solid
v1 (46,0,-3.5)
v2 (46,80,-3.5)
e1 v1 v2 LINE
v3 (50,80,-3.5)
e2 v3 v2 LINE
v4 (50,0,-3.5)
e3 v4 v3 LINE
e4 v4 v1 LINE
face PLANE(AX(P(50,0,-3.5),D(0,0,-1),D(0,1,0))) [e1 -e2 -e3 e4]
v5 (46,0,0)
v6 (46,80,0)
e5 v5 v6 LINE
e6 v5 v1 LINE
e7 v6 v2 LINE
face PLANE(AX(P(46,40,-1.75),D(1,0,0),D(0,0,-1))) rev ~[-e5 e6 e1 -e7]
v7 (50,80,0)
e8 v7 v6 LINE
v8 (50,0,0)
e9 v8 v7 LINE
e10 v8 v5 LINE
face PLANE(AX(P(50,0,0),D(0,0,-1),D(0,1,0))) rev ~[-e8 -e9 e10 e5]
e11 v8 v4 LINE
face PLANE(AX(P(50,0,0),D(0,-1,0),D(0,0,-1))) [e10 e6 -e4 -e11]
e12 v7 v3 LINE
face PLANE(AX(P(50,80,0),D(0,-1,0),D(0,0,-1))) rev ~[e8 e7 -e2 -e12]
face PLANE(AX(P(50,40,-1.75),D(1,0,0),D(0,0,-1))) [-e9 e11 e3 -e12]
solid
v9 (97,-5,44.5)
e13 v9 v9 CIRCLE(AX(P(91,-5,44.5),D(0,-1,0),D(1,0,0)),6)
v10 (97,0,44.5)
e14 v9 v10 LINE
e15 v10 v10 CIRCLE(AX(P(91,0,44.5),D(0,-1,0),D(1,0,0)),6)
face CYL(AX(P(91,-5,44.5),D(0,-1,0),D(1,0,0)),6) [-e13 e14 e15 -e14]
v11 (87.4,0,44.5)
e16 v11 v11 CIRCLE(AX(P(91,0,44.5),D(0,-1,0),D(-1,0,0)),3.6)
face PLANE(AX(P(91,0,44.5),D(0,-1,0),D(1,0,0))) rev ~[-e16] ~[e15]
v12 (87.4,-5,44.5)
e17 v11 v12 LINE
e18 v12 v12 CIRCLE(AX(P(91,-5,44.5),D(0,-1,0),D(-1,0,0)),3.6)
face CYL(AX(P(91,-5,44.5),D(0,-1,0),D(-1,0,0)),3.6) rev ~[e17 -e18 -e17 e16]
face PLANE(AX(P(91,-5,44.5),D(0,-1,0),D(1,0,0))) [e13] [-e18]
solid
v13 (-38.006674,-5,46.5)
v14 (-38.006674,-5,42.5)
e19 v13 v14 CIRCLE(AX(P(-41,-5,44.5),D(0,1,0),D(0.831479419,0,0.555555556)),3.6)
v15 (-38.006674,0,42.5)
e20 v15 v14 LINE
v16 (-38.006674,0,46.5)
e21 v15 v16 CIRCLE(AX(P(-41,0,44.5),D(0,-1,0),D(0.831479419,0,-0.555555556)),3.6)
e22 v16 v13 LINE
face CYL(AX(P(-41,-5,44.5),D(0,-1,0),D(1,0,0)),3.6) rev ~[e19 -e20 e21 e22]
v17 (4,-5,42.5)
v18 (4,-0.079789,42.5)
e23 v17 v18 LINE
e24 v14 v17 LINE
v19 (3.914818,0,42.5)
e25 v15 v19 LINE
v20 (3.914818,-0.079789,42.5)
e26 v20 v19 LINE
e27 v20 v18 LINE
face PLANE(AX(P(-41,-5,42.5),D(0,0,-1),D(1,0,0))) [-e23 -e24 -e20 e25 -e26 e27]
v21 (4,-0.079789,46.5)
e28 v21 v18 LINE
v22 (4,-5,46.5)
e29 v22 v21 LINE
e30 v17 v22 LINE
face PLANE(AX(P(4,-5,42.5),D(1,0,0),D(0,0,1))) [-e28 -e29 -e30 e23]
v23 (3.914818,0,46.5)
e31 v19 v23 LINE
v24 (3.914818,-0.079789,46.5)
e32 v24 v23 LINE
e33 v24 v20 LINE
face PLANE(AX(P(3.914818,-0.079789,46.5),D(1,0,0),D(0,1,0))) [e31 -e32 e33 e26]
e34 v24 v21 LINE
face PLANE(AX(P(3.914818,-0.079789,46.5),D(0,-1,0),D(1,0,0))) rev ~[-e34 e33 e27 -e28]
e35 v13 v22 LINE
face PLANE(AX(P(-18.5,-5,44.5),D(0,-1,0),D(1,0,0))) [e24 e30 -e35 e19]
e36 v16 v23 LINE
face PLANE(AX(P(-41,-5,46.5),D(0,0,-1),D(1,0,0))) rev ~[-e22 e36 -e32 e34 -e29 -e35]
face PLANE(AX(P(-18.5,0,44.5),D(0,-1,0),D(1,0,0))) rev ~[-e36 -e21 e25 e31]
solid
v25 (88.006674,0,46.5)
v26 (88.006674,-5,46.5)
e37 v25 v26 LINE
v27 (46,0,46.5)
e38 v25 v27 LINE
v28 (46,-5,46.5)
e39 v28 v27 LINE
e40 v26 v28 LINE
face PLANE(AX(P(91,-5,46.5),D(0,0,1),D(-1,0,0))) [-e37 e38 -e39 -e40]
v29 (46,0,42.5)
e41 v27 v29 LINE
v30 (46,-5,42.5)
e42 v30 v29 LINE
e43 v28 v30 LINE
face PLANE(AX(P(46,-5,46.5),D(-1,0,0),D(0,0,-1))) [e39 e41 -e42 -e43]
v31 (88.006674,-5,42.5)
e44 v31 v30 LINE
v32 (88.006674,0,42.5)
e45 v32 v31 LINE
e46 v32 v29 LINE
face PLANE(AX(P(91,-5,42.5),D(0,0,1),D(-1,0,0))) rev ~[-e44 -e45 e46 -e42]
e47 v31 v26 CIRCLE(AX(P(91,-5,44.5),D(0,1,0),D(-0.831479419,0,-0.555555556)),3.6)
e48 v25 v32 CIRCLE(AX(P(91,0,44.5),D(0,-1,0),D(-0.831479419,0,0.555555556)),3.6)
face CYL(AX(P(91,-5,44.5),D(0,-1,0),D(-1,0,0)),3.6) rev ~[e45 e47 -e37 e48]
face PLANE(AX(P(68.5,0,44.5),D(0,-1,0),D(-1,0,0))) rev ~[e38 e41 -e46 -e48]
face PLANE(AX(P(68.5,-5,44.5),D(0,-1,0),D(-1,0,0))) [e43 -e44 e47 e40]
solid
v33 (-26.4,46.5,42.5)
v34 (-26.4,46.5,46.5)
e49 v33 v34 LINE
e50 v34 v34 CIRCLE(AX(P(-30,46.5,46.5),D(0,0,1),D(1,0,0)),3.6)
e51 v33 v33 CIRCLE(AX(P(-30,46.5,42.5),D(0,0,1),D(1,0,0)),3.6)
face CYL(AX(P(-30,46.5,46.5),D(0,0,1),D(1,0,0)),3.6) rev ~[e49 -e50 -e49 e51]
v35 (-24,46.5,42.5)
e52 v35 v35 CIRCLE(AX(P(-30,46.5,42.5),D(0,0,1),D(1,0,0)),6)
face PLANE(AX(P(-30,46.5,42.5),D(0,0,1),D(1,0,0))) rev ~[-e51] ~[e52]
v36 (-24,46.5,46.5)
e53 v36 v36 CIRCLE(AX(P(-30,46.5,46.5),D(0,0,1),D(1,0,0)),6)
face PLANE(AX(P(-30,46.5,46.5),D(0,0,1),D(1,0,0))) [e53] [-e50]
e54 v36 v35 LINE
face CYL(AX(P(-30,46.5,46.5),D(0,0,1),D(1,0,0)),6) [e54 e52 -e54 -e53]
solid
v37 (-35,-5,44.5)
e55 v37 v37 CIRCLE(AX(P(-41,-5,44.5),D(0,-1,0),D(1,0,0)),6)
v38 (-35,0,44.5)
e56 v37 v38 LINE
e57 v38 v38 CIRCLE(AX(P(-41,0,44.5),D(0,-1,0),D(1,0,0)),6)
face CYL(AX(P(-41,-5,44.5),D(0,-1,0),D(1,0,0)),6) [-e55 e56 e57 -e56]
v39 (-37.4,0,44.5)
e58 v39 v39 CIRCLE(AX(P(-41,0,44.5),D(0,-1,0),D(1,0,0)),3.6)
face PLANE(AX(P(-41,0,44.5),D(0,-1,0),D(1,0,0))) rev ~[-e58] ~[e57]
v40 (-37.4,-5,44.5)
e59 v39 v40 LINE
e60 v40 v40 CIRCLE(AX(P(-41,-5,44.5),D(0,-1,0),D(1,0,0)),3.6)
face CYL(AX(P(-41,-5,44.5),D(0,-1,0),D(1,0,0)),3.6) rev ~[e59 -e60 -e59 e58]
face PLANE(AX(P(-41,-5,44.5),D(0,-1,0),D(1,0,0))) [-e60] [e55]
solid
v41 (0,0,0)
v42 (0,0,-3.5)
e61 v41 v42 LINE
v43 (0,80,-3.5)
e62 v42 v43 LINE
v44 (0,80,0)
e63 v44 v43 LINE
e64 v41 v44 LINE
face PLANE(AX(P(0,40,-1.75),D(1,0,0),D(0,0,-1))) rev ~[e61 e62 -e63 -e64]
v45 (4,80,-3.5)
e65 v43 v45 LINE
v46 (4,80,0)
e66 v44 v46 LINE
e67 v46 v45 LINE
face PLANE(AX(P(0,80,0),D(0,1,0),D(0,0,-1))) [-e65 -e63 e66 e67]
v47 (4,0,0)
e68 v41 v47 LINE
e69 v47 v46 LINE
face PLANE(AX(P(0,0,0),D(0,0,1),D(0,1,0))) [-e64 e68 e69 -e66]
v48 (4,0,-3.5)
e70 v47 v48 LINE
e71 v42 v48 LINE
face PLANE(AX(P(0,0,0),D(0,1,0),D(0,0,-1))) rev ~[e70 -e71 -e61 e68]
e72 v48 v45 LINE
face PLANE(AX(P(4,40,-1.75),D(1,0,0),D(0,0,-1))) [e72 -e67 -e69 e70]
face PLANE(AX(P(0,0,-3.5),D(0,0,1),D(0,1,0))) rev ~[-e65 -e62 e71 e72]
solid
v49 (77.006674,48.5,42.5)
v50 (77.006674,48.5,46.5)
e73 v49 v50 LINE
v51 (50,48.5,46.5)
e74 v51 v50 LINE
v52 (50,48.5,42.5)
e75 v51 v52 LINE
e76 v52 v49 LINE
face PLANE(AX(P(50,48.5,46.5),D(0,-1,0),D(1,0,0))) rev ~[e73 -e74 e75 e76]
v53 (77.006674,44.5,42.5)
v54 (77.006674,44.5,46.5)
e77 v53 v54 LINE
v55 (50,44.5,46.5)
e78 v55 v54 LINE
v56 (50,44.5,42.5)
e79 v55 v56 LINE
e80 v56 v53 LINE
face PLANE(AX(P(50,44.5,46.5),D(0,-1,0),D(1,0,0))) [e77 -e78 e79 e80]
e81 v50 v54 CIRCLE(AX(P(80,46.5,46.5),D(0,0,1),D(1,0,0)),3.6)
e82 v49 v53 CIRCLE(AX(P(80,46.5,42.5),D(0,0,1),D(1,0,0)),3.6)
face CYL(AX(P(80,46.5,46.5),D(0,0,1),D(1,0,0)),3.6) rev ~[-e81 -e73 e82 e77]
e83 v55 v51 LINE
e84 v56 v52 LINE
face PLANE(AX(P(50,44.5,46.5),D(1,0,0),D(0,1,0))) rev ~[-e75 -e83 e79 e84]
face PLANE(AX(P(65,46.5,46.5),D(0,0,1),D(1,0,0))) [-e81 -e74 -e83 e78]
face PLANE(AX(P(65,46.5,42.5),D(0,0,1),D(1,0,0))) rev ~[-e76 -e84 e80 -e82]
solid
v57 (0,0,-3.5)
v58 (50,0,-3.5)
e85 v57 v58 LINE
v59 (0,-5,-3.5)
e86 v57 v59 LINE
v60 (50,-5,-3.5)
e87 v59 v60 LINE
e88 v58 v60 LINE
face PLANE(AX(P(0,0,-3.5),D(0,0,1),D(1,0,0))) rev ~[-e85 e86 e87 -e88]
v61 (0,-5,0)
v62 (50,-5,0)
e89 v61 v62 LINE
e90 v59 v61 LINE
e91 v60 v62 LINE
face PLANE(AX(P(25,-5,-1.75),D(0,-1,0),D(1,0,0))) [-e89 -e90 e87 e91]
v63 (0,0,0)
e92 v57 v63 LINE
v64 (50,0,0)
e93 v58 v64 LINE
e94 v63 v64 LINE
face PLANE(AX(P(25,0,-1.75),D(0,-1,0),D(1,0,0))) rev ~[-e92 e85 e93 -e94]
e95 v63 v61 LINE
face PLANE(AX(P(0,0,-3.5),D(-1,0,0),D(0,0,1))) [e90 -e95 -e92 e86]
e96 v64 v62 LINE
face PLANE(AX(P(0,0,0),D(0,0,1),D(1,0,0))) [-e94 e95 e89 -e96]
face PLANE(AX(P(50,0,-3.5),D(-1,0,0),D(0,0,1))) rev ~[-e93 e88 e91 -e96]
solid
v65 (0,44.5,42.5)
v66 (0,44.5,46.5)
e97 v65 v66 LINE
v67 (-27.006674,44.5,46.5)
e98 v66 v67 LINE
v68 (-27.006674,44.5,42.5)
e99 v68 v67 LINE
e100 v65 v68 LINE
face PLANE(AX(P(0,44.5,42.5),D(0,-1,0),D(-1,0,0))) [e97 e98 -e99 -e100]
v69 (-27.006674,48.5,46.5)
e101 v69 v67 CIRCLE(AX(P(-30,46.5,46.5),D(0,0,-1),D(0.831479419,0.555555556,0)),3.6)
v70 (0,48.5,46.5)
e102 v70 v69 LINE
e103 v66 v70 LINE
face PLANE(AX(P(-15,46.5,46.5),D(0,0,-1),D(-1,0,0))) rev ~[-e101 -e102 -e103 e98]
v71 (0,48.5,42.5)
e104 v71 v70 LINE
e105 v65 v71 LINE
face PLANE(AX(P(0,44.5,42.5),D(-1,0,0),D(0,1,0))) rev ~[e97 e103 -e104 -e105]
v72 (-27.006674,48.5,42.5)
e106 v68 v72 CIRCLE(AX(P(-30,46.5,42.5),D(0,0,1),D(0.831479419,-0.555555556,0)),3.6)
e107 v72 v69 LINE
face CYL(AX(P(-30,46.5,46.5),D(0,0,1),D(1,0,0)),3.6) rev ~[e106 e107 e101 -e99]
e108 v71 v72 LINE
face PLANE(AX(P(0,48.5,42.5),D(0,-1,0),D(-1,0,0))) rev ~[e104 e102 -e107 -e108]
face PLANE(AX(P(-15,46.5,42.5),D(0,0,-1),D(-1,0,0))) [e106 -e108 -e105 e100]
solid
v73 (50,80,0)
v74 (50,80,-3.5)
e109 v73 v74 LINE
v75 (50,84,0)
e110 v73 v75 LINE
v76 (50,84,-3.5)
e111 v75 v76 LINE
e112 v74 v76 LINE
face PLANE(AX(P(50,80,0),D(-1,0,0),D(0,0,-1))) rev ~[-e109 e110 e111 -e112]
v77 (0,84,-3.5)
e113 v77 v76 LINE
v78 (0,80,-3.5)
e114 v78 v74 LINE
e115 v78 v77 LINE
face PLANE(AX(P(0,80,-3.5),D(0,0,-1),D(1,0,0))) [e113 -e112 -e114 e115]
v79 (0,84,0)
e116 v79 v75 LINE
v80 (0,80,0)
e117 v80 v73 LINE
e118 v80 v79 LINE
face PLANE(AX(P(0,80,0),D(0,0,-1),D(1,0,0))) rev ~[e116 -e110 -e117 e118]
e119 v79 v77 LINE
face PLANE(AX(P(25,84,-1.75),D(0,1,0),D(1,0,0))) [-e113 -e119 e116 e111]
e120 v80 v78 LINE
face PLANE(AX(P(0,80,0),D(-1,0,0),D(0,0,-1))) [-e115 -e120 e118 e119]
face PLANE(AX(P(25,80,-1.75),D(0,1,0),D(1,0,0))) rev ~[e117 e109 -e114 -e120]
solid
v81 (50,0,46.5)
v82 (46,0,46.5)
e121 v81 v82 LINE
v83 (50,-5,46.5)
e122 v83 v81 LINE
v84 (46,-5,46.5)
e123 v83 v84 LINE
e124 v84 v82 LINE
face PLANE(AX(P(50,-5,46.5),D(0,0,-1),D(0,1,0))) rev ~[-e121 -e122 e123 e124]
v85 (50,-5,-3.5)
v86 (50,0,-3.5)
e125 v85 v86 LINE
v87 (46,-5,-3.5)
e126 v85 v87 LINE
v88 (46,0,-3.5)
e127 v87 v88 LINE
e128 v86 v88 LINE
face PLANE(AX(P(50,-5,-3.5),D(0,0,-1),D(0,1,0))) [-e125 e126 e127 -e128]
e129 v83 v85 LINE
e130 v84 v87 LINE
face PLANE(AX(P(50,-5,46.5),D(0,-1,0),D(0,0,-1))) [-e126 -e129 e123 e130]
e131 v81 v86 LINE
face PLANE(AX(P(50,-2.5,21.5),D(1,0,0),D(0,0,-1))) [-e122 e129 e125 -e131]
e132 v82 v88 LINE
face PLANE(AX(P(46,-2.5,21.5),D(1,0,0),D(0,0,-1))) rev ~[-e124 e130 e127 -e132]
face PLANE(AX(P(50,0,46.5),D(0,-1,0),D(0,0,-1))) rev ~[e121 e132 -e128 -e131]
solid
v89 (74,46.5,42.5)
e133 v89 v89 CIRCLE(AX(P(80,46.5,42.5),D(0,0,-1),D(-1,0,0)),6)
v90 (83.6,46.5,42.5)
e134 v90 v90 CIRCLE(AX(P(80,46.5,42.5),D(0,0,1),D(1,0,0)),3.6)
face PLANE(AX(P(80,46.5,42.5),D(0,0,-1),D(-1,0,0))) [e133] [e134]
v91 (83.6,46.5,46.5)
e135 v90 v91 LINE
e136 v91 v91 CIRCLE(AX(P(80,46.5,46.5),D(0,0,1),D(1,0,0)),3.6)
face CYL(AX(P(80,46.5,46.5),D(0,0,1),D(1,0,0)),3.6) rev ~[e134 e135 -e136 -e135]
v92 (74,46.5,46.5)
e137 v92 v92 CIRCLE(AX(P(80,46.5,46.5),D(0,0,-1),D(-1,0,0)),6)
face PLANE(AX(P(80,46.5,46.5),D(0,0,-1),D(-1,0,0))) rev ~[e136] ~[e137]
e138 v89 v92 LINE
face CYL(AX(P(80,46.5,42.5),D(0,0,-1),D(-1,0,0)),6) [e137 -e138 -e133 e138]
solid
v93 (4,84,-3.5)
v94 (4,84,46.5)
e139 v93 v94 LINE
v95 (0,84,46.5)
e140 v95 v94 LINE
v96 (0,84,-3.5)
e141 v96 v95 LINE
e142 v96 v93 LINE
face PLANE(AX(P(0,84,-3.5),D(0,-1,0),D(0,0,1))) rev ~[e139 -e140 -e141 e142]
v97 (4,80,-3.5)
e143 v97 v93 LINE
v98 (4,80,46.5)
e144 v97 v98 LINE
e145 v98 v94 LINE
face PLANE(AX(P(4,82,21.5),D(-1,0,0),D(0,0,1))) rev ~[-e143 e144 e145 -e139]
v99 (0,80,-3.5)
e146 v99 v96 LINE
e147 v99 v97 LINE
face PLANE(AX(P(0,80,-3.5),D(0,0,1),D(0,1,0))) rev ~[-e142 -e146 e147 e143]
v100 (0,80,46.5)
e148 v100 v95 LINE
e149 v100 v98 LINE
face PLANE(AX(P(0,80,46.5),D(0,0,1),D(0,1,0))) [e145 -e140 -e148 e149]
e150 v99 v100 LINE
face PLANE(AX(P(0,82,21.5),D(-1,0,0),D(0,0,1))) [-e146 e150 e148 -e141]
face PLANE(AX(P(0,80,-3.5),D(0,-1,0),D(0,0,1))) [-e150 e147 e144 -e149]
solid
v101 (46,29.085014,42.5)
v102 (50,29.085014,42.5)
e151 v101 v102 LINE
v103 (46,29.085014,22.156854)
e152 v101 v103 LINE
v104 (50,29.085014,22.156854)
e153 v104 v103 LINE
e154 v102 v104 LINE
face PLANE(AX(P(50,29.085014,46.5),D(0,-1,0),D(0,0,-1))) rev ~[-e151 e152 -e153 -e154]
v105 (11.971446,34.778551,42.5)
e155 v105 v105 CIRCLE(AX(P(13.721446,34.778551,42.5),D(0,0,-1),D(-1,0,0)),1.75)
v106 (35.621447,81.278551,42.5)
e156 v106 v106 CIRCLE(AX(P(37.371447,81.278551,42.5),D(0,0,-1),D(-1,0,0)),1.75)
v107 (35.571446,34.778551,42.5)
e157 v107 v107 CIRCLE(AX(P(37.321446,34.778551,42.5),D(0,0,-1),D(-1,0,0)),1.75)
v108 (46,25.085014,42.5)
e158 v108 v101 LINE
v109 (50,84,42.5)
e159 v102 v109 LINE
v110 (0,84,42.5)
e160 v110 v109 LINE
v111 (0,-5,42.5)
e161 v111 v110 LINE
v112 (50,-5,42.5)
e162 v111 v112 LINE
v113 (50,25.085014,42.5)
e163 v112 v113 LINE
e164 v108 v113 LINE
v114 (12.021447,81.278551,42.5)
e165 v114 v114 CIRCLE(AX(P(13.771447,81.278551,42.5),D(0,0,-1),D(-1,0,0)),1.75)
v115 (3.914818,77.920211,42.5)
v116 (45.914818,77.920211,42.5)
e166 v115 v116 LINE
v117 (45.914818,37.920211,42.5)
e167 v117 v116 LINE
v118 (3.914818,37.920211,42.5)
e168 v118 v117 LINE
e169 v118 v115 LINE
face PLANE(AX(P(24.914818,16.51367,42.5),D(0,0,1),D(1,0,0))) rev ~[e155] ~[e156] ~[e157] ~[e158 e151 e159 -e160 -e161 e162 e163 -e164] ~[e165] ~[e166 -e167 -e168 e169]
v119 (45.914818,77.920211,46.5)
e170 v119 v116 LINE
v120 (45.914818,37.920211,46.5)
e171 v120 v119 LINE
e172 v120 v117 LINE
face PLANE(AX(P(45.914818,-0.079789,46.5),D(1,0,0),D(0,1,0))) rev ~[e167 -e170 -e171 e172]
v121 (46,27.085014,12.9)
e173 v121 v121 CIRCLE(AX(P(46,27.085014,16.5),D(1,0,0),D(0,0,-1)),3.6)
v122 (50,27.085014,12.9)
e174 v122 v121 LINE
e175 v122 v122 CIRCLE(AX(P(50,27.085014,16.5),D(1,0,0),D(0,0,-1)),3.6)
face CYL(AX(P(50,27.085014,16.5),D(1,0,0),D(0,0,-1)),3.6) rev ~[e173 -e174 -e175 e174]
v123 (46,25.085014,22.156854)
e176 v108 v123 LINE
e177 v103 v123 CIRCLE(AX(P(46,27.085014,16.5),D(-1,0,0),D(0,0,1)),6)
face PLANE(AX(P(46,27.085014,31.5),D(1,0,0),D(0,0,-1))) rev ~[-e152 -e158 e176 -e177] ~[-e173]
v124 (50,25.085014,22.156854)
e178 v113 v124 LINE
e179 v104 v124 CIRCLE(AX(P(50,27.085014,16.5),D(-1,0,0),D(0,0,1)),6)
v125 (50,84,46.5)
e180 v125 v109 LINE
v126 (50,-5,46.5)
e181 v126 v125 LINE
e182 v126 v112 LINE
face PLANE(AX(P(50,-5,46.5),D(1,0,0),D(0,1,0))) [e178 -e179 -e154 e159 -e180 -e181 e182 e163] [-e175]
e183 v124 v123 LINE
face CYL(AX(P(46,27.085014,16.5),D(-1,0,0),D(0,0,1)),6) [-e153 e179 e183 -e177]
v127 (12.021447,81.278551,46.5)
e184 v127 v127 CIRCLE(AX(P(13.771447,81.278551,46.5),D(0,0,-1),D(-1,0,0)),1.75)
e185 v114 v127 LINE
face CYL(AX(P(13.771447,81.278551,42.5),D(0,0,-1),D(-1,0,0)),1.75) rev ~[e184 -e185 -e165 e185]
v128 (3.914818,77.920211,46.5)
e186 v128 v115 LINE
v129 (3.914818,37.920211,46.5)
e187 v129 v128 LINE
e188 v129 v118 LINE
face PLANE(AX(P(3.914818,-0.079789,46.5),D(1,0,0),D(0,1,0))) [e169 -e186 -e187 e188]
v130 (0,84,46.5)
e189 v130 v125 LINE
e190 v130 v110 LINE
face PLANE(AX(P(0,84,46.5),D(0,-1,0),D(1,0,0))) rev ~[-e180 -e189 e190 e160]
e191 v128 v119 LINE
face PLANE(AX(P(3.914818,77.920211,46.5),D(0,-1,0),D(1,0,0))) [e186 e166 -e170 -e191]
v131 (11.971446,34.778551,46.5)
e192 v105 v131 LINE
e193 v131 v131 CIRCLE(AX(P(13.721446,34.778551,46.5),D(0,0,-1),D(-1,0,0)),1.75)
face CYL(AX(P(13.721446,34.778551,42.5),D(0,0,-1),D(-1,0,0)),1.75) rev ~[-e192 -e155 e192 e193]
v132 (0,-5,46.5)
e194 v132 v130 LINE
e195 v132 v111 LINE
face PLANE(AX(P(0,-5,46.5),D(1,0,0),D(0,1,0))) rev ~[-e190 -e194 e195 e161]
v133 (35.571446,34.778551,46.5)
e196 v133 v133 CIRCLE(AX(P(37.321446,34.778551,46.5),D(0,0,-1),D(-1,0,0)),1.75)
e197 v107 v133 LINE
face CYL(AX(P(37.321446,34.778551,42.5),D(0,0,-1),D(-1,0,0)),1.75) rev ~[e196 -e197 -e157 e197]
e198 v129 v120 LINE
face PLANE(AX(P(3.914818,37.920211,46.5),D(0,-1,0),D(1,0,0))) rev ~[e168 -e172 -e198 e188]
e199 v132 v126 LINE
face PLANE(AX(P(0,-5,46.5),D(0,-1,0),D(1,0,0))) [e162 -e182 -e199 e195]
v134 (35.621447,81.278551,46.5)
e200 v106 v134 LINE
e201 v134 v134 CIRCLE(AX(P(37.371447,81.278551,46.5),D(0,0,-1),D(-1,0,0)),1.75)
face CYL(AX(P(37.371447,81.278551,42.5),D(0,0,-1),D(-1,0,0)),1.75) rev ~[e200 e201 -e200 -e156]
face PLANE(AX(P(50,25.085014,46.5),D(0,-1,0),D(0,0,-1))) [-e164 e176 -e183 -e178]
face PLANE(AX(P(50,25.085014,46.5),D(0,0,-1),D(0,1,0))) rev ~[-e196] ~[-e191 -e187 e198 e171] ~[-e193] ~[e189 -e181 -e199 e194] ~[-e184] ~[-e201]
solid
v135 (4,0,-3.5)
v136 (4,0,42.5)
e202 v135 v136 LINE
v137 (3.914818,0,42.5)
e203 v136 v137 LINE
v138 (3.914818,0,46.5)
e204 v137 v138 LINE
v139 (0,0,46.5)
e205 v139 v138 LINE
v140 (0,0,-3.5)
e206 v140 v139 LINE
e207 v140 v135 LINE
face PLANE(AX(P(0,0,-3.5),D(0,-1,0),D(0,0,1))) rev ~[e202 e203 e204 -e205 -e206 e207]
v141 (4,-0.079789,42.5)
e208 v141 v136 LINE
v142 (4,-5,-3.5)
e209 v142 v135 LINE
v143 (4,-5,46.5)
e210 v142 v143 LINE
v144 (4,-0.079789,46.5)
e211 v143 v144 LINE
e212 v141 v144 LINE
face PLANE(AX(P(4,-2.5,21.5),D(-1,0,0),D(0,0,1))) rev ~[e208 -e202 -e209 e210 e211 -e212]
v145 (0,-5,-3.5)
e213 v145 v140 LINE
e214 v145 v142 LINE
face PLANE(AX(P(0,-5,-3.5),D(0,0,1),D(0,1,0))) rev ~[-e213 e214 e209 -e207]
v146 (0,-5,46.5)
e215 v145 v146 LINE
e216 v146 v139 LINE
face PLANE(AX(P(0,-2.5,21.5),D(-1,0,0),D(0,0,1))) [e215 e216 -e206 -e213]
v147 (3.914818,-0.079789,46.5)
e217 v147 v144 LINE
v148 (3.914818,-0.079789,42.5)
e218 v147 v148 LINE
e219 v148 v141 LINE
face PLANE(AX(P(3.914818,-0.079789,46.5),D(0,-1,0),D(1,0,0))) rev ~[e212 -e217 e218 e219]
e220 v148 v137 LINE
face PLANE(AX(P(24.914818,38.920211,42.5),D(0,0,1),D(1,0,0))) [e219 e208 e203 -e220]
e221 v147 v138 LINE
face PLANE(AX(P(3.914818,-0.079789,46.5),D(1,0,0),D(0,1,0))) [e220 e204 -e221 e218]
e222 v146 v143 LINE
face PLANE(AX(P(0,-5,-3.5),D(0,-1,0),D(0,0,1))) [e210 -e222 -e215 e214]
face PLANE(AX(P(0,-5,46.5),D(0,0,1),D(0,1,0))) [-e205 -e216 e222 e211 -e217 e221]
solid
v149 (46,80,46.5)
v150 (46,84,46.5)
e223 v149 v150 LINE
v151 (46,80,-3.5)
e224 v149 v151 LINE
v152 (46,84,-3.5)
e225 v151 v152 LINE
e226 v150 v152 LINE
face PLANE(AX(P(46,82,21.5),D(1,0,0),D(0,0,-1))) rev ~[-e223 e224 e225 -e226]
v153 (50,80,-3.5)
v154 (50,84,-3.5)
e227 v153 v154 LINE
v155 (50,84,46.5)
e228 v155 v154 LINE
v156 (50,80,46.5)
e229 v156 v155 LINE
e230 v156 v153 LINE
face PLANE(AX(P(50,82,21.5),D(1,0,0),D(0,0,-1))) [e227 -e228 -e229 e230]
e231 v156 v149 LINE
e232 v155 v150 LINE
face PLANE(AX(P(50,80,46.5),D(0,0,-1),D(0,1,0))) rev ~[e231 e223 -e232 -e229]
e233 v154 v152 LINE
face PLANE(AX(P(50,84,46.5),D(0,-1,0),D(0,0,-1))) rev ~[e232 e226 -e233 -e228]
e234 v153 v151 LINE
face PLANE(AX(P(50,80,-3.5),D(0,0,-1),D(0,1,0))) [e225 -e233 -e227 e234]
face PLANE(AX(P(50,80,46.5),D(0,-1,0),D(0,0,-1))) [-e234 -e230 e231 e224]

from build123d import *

# Parameters (mm, degrees)
SKETCH114_W             = 3.5
SKETCH114_H             = 80
BOSS_EXTRUDE2_DEPTH     = 4
SKETCH115_W             = 50
SKETCH115_H             = 3.5
BOSS_EXTRUDE3_DEPTH     = 4
SKETCH116_W             = 3.5
SKETCH116_H             = 80
BOSS_EXTRUDE5_DEPTH     = 4
SKETCH117_W             = 50
SKETCH117_H             = 3.5
BOSS_EXTRUDE6_DEPTH     = 5
SKETCH119_W             = 50
SKETCH119_H             = 5
BOSS_EXTRUDE7_DEPTH     = 4
SKETCH119_H_2           = 4
BOSS_EXTRUDE7_2_DEPTH   = 4
SKETCH122_W             = 50
SKETCH122_H             = 4
BOSS_EXTRUDE8_DEPTH     = 4
SKETCH122_H_2           = 5
BOSS_EXTRUDE8_2_DEPTH   = 4
SKETCH134_W             = 50
SKETCH134_H             = 89
BOSS_EXTRUDE18_DEPTH    = 4
SKETCH135_W             = 45
SKETCH135_H             = 4
BOSS_EXTRUDE19_DEPTH    = 5
SKETCH136_W             = 45
SKETCH136_H             = 4
BOSS_EXTRUDE21_DEPTH    = 5
SKETCH137_R             = 6
BOSS_EXTRUDE22_DEPTH    = 5
SKETCH139_R             = 3.6
CUT_EXTRUDE1_DEPTH      = 10
CUT_EXTRUDE1_DEPTH_BACK = 38
SKETCH140_R             = 6
BOSS_EXTRUDE23_DEPTH    = 5
SKETCH143_R             = 3.6
CUT_EXTRUDE2_DEPTH      = 29
CUT_EXTRUDE2_DEPTH_BACK = 17
SKETCH145_W             = 30
SKETCH145_H             = 4
BOSS_EXTRUDE26_DEPTH    = 4
SKETCH146_R             = 6
BOSS_EXTRUDE27_DEPTH    = 4
SKETCH147_R             = 3.6
CUT_EXTRUDE3_DEPTH      = 11
CUT_EXTRUDE3_DEPTH_BACK = 21
SKETCH148_W             = 30
SKETCH148_H             = 4
BOSS_EXTRUDE28_DEPTH    = 4
SKETCH149_R             = 6
BOSS_EXTRUDE29_DEPTH    = 4
SKETCH150_R             = 3.6
CUT_EXTRUDE4_DEPTH      = 12
CUT_EXTRUDE4_DEPTH_BACK = 14
SKETCH156_W             = 42
SKETCH156_H             = 78
CUT_EXTRUDE8_DEPTH      = 4
SKETCH159_W             = 30
SKETCH159_H             = 4
BOSS_EXTRUDE31_DEPTH    = 4
SKETCH160_R             = 6
BOSS_EXTRUDE32_DEPTH    = 4
SKETCH161_R             = 3.6
CUT_EXTRUDE10_DEPTH     = 4
SKETCH162_W             = 42
SKETCH162_H             = 42.813081775
BOSS_EXTRUDE34_DEPTH    = 4
SKETCH164_R             = 1.75
CUT_EXTRUDE12_DEPTH     = 4


with BuildPart() as part:
    # Sketch114 → Boss-Extrude2 (new body)
    with BuildSketch(Plane(origin=(0, 0, 0), x_dir=(0, 0, -1), z_dir=(1, 0, 0))):
        with Locations((1.75, 40)):
            Rectangle(SKETCH114_W, SKETCH114_H)
    extrude(amount=BOSS_EXTRUDE2_DEPTH)


with BuildPart() as body_2:
    # Sketch115 → Boss-Extrude3 (new body)
    with BuildSketch(Plane(origin=(0, 80, 0), x_dir=(1, 0, 0), z_dir=(0, 1, 0))):
        with Locations((25, 1.75)):
            Rectangle(SKETCH115_W, SKETCH115_H)
    extrude(amount=BOSS_EXTRUDE3_DEPTH)


with BuildPart() as body_3:
    # Sketch116 → Boss-Extrude5 (new body)
    with BuildSketch(Plane(origin=(50, 0, 0), x_dir=(0, 0, -1), z_dir=(1, 0, 0))):
        with Locations((1.75, 40)):
            Rectangle(SKETCH116_W, SKETCH116_H)
    extrude(amount=-BOSS_EXTRUDE5_DEPTH)


with BuildPart() as body_4:
    # Sketch117 → Boss-Extrude6 (new body)
    with BuildSketch(Plane.XZ):
        with Locations((25, -1.75)):
            Rectangle(SKETCH117_W, SKETCH117_H)
    extrude(amount=BOSS_EXTRUDE6_DEPTH)


with BuildPart() as body_5:
    # Sketch119 → Boss-Extrude7 (new body)
    with BuildSketch(Plane(origin=(50, 0, 0), x_dir=(0, 0, -1), z_dir=(1, 0, 0))):
        with Locations((-21.5, -2.5)):
            Rectangle(SKETCH119_W, SKETCH119_H)
    extrude(amount=-BOSS_EXTRUDE7_DEPTH)


with BuildPart() as body_6:
    # Sketch119 → Boss-Extrude7 2 (new body)
    with BuildSketch(Plane(origin=(50, 0, 0), x_dir=(0, 0, -1), z_dir=(1, 0, 0))):
        with Locations((-21.5, 82)):
            Rectangle(SKETCH119_W, SKETCH119_H_2)
    extrude(amount=-BOSS_EXTRUDE7_2_DEPTH)


with BuildPart() as body_7:
    # Sketch122 → Boss-Extrude8 (new body)
    with BuildSketch(Plane.ZY):
        with Locations((21.5, 82)):
            Rectangle(SKETCH122_W, SKETCH122_H)
    extrude(amount=-BOSS_EXTRUDE8_DEPTH)


with BuildPart() as body_8:
    # Sketch122 → Boss-Extrude8 2 (new body)
    with BuildSketch(Plane.ZY):
        with Locations((21.5, -2.5)):
            Rectangle(SKETCH122_W, SKETCH122_H_2)
    extrude(amount=-BOSS_EXTRUDE8_2_DEPTH)


with BuildPart() as body_9:
    # Sketch134 → Boss-Extrude18 (new body)
    with BuildSketch(Plane.XY.offset(46.5)):
        with Locations((25, 39.5)):
            Rectangle(SKETCH134_W, SKETCH134_H)
    extrude(amount=-BOSS_EXTRUDE18_DEPTH)


with BuildPart() as body_10:
    # Sketch135 → Boss-Extrude19 (new body)
    with BuildSketch(Plane(origin=(0, -5, 0), x_dir=(-1, 0, 0), z_dir=(0, -1, 0))):
        with Locations((-68.5, -44.5)):
            Rectangle(SKETCH135_W, SKETCH135_H)
    extrude(amount=-BOSS_EXTRUDE19_DEPTH)


with BuildPart() as body_11:
    # Sketch136 → Boss-Extrude21 (new body)
    with BuildSketch(Plane.XZ.offset(5)):
        with Locations((-18.5, 44.5)):
            Rectangle(SKETCH136_W, SKETCH136_H)
    extrude(amount=-BOSS_EXTRUDE21_DEPTH)


with BuildPart() as body_12:
    # Sketch137 → Boss-Extrude22 (new body)
    with BuildSketch(Plane.XZ.offset(5)):
        with Locations((91, 44.5)):
            Circle(SKETCH137_R)
    extrude(amount=-BOSS_EXTRUDE22_DEPTH)


with BuildPart() as cut_extrude1_tool:
    # Sketch139 → Cut-Extrude1 (new body, two sides)
    with BuildSketch(Plane(origin=(0, -5, 0), x_dir=(-1, 0, 0), z_dir=(0, -1, 0))) as cut_extrude1_sk:
        with Locations((-91, -44.5)):
            Circle(SKETCH139_R)
    extrude(amount=CUT_EXTRUDE1_DEPTH)
    extrude(cut_extrude1_sk.sketch, amount=-CUT_EXTRUDE1_DEPTH_BACK)


with BuildPart() as body_10_1:
    add(body_10.part)

    # Cut-Extrude1: cut by cut_extrude1_tool
    add(cut_extrude1_tool.part, mode=Mode.SUBTRACT)


with BuildPart() as body_12_1:
    add(body_12.part)

    # Cut-Extrude1: cut by cut_extrude1_tool
    add(cut_extrude1_tool.part, mode=Mode.SUBTRACT)


with BuildPart() as body_13:
    # Sketch140 → Boss-Extrude23 (new body)
    with BuildSketch(Plane.XZ.offset(5)):
        with Locations((-41, 44.5)):
            Circle(SKETCH140_R)
    extrude(amount=-BOSS_EXTRUDE23_DEPTH)


with BuildPart() as cut_extrude2_tool:
    # Sketch143 → Cut-Extrude2 (new body, two sides)
    with BuildSketch(Plane.XZ.offset(5)) as cut_extrude2_sk:
        with Locations((-41, 44.5)):
            Circle(SKETCH143_R)
    extrude(amount=CUT_EXTRUDE2_DEPTH)
    extrude(cut_extrude2_sk.sketch, amount=-CUT_EXTRUDE2_DEPTH_BACK)


with BuildPart() as body_11_1:
    add(body_11.part)

    # Cut-Extrude2: cut by cut_extrude2_tool
    add(cut_extrude2_tool.part, mode=Mode.SUBTRACT)


with BuildPart() as body_13_1:
    add(body_13.part)

    # Cut-Extrude2: cut by cut_extrude2_tool
    add(cut_extrude2_tool.part, mode=Mode.SUBTRACT)


with BuildPart() as body_14:
    # Sketch145 → Boss-Extrude26 (new body)
    with BuildSketch(Plane(origin=(0, 5, 42.5), x_dir=(-1, 0, 0), z_dir=(0, 0, -1))):
        with Locations((15, 41.5)):
            Rectangle(SKETCH145_W, SKETCH145_H)
    extrude(amount=-BOSS_EXTRUDE26_DEPTH)


with BuildPart() as body_15:
    # Sketch146 → Boss-Extrude27 (new body)
    with BuildSketch(Plane(origin=(0, 5, 46.5), x_dir=(1, 0, 0), z_dir=(0, 0, 1))):
        with Locations((-30, 41.5)):
            Circle(SKETCH146_R)
    extrude(amount=-BOSS_EXTRUDE27_DEPTH)


with BuildPart() as cut_extrude3_tool:
    # Sketch147 → Cut-Extrude3 (new body, two sides)
    with BuildSketch(Plane(origin=(0, 5, 46.5), x_dir=(1, 0, 0), z_dir=(0, 0, 1))) as cut_extrude3_sk:
        with Locations((-30, 41.5)):
            Circle(SKETCH147_R)
    extrude(amount=CUT_EXTRUDE3_DEPTH)
    extrude(cut_extrude3_sk.sketch, amount=-CUT_EXTRUDE3_DEPTH_BACK)


with BuildPart() as body_14_1:
    add(body_14.part)

    # Cut-Extrude3: cut by cut_extrude3_tool
    add(cut_extrude3_tool.part, mode=Mode.SUBTRACT)


with BuildPart() as body_15_1:
    add(body_15.part)

    # Cut-Extrude3: cut by cut_extrude3_tool
    add(cut_extrude3_tool.part, mode=Mode.SUBTRACT)


with BuildPart() as body_16:
    # Sketch148 → Boss-Extrude28 (new body)
    with BuildSketch(Plane(origin=(0, 5, 46.5), x_dir=(1, 0, 0), z_dir=(0, 0, 1))):
        with Locations((65, 41.5)):
            Rectangle(SKETCH148_W, SKETCH148_H)
    extrude(amount=-BOSS_EXTRUDE28_DEPTH)


with BuildPart() as body_17:
    # Sketch149 → Boss-Extrude29 (new body)
    with BuildSketch(Plane(origin=(0, 5, 42.5), x_dir=(-1, 0, 0), z_dir=(0, 0, -1))):
        with Locations((-80, 41.5)):
            Circle(SKETCH149_R)
    extrude(amount=-BOSS_EXTRUDE29_DEPTH)


with BuildPart() as cut_extrude4_tool:
    # Sketch150 → Cut-Extrude4 (new body, two sides)
    with BuildSketch(Plane(origin=(0, 5, 46.5), x_dir=(1, 0, 0), z_dir=(0, 0, 1))) as cut_extrude4_sk:
        with Locations((80, 41.5)):
            Circle(SKETCH150_R)
    extrude(amount=CUT_EXTRUDE4_DEPTH)
    extrude(cut_extrude4_sk.sketch, amount=-CUT_EXTRUDE4_DEPTH_BACK)


with BuildPart() as body_16_1:
    add(body_16.part)

    # Cut-Extrude4: cut by cut_extrude4_tool
    add(cut_extrude4_tool.part, mode=Mode.SUBTRACT)


with BuildPart() as body_17_1:
    add(body_17.part)

    # Cut-Extrude4: cut by cut_extrude4_tool
    add(cut_extrude4_tool.part, mode=Mode.SUBTRACT)


with BuildPart() as cut_extrude8_tool:
    # Sketch156 → Cut-Extrude8 (new body)
    with BuildSketch(Plane.XY.offset(46.5)):
        with Locations((24.914818012, 38.92021053)):
            Rectangle(SKETCH156_W, SKETCH156_H)
    extrude(amount=-CUT_EXTRUDE8_DEPTH)


with BuildPart() as body_8_1:
    add(body_8.part)

    # Cut-Extrude8: cut by cut_extrude8_tool
    add(cut_extrude8_tool.part, mode=Mode.SUBTRACT)


with BuildPart() as body_9_1:
    add(body_9.part)

    # Cut-Extrude8: cut by cut_extrude8_tool
    add(cut_extrude8_tool.part, mode=Mode.SUBTRACT)

    # Sketch159 → Boss-Extrude31 (add)
    with BuildSketch(Plane(origin=(50, 0, 0), x_dir=(0, 0, -1), z_dir=(1, 0, 0))):
        with Locations((-31.5, 27.085014073)):
            Rectangle(SKETCH159_W, SKETCH159_H)
    extrude(amount=-BOSS_EXTRUDE31_DEPTH)

    # Sketch160 → Boss-Extrude32 (add)
    with BuildSketch(Plane.ZY.offset(-46)):
        with Locations((16.5, 27.085014073)):
            Circle(SKETCH160_R)
    extrude(amount=-BOSS_EXTRUDE32_DEPTH)

    # Sketch161 → Cut-Extrude10 (cut)
    with BuildSketch(Plane(origin=(50, 0, 0), x_dir=(0, 0, -1), z_dir=(1, 0, 0))):
        with Locations((-16.5, 27.085014073)):
            Circle(SKETCH161_R)
    extrude(amount=-CUT_EXTRUDE10_DEPTH, mode=Mode.SUBTRACT)

    # Sketch162 → Boss-Extrude34 (add)
    with BuildSketch(Plane.XY.offset(46.5)):
        with Locations((24.914818012, 16.513669643)):
            Rectangle(SKETCH162_W, SKETCH162_H)
    extrude(amount=-BOSS_EXTRUDE34_DEPTH)

    # Sketch164 → Cut-Extrude12 (cut)
    with BuildSketch(Plane(origin=(0, 0, 42.5), x_dir=(-1, 0, 0), z_dir=(0, 0, -1))):
        with Locations((-13.771446852, 81.278551211)):
            Circle(SKETCH164_R)
        with Locations((-37.371446852, 81.278551211)):
            Circle(SKETCH164_R)
        with Locations((-37.321446148, 34.778551211)):
            Circle(SKETCH164_R)
        with Locations((-13.721446148, 34.778551211)):
            Circle(SKETCH164_R)
    extrude(amount=-CUT_EXTRUDE12_DEPTH, mode=Mode.SUBTRACT)


with BuildPart() as body_11_2:
    add(body_11_1.part)

    # Cut-Extrude8: cut by cut_extrude8_tool
    add(cut_extrude8_tool.part, mode=Mode.SUBTRACT)


solid = Compound([part.part, body_2.part, body_3.part, body_4.part, body_5.part, body_6.part, body_7.part, body_10_1.part, body_12_1.part, body_13_1.part, body_14_1.part, body_15_1.part, body_16_1.part, body_17_1.part, body_8_1.part, body_9_1.part, body_11_2.part])
